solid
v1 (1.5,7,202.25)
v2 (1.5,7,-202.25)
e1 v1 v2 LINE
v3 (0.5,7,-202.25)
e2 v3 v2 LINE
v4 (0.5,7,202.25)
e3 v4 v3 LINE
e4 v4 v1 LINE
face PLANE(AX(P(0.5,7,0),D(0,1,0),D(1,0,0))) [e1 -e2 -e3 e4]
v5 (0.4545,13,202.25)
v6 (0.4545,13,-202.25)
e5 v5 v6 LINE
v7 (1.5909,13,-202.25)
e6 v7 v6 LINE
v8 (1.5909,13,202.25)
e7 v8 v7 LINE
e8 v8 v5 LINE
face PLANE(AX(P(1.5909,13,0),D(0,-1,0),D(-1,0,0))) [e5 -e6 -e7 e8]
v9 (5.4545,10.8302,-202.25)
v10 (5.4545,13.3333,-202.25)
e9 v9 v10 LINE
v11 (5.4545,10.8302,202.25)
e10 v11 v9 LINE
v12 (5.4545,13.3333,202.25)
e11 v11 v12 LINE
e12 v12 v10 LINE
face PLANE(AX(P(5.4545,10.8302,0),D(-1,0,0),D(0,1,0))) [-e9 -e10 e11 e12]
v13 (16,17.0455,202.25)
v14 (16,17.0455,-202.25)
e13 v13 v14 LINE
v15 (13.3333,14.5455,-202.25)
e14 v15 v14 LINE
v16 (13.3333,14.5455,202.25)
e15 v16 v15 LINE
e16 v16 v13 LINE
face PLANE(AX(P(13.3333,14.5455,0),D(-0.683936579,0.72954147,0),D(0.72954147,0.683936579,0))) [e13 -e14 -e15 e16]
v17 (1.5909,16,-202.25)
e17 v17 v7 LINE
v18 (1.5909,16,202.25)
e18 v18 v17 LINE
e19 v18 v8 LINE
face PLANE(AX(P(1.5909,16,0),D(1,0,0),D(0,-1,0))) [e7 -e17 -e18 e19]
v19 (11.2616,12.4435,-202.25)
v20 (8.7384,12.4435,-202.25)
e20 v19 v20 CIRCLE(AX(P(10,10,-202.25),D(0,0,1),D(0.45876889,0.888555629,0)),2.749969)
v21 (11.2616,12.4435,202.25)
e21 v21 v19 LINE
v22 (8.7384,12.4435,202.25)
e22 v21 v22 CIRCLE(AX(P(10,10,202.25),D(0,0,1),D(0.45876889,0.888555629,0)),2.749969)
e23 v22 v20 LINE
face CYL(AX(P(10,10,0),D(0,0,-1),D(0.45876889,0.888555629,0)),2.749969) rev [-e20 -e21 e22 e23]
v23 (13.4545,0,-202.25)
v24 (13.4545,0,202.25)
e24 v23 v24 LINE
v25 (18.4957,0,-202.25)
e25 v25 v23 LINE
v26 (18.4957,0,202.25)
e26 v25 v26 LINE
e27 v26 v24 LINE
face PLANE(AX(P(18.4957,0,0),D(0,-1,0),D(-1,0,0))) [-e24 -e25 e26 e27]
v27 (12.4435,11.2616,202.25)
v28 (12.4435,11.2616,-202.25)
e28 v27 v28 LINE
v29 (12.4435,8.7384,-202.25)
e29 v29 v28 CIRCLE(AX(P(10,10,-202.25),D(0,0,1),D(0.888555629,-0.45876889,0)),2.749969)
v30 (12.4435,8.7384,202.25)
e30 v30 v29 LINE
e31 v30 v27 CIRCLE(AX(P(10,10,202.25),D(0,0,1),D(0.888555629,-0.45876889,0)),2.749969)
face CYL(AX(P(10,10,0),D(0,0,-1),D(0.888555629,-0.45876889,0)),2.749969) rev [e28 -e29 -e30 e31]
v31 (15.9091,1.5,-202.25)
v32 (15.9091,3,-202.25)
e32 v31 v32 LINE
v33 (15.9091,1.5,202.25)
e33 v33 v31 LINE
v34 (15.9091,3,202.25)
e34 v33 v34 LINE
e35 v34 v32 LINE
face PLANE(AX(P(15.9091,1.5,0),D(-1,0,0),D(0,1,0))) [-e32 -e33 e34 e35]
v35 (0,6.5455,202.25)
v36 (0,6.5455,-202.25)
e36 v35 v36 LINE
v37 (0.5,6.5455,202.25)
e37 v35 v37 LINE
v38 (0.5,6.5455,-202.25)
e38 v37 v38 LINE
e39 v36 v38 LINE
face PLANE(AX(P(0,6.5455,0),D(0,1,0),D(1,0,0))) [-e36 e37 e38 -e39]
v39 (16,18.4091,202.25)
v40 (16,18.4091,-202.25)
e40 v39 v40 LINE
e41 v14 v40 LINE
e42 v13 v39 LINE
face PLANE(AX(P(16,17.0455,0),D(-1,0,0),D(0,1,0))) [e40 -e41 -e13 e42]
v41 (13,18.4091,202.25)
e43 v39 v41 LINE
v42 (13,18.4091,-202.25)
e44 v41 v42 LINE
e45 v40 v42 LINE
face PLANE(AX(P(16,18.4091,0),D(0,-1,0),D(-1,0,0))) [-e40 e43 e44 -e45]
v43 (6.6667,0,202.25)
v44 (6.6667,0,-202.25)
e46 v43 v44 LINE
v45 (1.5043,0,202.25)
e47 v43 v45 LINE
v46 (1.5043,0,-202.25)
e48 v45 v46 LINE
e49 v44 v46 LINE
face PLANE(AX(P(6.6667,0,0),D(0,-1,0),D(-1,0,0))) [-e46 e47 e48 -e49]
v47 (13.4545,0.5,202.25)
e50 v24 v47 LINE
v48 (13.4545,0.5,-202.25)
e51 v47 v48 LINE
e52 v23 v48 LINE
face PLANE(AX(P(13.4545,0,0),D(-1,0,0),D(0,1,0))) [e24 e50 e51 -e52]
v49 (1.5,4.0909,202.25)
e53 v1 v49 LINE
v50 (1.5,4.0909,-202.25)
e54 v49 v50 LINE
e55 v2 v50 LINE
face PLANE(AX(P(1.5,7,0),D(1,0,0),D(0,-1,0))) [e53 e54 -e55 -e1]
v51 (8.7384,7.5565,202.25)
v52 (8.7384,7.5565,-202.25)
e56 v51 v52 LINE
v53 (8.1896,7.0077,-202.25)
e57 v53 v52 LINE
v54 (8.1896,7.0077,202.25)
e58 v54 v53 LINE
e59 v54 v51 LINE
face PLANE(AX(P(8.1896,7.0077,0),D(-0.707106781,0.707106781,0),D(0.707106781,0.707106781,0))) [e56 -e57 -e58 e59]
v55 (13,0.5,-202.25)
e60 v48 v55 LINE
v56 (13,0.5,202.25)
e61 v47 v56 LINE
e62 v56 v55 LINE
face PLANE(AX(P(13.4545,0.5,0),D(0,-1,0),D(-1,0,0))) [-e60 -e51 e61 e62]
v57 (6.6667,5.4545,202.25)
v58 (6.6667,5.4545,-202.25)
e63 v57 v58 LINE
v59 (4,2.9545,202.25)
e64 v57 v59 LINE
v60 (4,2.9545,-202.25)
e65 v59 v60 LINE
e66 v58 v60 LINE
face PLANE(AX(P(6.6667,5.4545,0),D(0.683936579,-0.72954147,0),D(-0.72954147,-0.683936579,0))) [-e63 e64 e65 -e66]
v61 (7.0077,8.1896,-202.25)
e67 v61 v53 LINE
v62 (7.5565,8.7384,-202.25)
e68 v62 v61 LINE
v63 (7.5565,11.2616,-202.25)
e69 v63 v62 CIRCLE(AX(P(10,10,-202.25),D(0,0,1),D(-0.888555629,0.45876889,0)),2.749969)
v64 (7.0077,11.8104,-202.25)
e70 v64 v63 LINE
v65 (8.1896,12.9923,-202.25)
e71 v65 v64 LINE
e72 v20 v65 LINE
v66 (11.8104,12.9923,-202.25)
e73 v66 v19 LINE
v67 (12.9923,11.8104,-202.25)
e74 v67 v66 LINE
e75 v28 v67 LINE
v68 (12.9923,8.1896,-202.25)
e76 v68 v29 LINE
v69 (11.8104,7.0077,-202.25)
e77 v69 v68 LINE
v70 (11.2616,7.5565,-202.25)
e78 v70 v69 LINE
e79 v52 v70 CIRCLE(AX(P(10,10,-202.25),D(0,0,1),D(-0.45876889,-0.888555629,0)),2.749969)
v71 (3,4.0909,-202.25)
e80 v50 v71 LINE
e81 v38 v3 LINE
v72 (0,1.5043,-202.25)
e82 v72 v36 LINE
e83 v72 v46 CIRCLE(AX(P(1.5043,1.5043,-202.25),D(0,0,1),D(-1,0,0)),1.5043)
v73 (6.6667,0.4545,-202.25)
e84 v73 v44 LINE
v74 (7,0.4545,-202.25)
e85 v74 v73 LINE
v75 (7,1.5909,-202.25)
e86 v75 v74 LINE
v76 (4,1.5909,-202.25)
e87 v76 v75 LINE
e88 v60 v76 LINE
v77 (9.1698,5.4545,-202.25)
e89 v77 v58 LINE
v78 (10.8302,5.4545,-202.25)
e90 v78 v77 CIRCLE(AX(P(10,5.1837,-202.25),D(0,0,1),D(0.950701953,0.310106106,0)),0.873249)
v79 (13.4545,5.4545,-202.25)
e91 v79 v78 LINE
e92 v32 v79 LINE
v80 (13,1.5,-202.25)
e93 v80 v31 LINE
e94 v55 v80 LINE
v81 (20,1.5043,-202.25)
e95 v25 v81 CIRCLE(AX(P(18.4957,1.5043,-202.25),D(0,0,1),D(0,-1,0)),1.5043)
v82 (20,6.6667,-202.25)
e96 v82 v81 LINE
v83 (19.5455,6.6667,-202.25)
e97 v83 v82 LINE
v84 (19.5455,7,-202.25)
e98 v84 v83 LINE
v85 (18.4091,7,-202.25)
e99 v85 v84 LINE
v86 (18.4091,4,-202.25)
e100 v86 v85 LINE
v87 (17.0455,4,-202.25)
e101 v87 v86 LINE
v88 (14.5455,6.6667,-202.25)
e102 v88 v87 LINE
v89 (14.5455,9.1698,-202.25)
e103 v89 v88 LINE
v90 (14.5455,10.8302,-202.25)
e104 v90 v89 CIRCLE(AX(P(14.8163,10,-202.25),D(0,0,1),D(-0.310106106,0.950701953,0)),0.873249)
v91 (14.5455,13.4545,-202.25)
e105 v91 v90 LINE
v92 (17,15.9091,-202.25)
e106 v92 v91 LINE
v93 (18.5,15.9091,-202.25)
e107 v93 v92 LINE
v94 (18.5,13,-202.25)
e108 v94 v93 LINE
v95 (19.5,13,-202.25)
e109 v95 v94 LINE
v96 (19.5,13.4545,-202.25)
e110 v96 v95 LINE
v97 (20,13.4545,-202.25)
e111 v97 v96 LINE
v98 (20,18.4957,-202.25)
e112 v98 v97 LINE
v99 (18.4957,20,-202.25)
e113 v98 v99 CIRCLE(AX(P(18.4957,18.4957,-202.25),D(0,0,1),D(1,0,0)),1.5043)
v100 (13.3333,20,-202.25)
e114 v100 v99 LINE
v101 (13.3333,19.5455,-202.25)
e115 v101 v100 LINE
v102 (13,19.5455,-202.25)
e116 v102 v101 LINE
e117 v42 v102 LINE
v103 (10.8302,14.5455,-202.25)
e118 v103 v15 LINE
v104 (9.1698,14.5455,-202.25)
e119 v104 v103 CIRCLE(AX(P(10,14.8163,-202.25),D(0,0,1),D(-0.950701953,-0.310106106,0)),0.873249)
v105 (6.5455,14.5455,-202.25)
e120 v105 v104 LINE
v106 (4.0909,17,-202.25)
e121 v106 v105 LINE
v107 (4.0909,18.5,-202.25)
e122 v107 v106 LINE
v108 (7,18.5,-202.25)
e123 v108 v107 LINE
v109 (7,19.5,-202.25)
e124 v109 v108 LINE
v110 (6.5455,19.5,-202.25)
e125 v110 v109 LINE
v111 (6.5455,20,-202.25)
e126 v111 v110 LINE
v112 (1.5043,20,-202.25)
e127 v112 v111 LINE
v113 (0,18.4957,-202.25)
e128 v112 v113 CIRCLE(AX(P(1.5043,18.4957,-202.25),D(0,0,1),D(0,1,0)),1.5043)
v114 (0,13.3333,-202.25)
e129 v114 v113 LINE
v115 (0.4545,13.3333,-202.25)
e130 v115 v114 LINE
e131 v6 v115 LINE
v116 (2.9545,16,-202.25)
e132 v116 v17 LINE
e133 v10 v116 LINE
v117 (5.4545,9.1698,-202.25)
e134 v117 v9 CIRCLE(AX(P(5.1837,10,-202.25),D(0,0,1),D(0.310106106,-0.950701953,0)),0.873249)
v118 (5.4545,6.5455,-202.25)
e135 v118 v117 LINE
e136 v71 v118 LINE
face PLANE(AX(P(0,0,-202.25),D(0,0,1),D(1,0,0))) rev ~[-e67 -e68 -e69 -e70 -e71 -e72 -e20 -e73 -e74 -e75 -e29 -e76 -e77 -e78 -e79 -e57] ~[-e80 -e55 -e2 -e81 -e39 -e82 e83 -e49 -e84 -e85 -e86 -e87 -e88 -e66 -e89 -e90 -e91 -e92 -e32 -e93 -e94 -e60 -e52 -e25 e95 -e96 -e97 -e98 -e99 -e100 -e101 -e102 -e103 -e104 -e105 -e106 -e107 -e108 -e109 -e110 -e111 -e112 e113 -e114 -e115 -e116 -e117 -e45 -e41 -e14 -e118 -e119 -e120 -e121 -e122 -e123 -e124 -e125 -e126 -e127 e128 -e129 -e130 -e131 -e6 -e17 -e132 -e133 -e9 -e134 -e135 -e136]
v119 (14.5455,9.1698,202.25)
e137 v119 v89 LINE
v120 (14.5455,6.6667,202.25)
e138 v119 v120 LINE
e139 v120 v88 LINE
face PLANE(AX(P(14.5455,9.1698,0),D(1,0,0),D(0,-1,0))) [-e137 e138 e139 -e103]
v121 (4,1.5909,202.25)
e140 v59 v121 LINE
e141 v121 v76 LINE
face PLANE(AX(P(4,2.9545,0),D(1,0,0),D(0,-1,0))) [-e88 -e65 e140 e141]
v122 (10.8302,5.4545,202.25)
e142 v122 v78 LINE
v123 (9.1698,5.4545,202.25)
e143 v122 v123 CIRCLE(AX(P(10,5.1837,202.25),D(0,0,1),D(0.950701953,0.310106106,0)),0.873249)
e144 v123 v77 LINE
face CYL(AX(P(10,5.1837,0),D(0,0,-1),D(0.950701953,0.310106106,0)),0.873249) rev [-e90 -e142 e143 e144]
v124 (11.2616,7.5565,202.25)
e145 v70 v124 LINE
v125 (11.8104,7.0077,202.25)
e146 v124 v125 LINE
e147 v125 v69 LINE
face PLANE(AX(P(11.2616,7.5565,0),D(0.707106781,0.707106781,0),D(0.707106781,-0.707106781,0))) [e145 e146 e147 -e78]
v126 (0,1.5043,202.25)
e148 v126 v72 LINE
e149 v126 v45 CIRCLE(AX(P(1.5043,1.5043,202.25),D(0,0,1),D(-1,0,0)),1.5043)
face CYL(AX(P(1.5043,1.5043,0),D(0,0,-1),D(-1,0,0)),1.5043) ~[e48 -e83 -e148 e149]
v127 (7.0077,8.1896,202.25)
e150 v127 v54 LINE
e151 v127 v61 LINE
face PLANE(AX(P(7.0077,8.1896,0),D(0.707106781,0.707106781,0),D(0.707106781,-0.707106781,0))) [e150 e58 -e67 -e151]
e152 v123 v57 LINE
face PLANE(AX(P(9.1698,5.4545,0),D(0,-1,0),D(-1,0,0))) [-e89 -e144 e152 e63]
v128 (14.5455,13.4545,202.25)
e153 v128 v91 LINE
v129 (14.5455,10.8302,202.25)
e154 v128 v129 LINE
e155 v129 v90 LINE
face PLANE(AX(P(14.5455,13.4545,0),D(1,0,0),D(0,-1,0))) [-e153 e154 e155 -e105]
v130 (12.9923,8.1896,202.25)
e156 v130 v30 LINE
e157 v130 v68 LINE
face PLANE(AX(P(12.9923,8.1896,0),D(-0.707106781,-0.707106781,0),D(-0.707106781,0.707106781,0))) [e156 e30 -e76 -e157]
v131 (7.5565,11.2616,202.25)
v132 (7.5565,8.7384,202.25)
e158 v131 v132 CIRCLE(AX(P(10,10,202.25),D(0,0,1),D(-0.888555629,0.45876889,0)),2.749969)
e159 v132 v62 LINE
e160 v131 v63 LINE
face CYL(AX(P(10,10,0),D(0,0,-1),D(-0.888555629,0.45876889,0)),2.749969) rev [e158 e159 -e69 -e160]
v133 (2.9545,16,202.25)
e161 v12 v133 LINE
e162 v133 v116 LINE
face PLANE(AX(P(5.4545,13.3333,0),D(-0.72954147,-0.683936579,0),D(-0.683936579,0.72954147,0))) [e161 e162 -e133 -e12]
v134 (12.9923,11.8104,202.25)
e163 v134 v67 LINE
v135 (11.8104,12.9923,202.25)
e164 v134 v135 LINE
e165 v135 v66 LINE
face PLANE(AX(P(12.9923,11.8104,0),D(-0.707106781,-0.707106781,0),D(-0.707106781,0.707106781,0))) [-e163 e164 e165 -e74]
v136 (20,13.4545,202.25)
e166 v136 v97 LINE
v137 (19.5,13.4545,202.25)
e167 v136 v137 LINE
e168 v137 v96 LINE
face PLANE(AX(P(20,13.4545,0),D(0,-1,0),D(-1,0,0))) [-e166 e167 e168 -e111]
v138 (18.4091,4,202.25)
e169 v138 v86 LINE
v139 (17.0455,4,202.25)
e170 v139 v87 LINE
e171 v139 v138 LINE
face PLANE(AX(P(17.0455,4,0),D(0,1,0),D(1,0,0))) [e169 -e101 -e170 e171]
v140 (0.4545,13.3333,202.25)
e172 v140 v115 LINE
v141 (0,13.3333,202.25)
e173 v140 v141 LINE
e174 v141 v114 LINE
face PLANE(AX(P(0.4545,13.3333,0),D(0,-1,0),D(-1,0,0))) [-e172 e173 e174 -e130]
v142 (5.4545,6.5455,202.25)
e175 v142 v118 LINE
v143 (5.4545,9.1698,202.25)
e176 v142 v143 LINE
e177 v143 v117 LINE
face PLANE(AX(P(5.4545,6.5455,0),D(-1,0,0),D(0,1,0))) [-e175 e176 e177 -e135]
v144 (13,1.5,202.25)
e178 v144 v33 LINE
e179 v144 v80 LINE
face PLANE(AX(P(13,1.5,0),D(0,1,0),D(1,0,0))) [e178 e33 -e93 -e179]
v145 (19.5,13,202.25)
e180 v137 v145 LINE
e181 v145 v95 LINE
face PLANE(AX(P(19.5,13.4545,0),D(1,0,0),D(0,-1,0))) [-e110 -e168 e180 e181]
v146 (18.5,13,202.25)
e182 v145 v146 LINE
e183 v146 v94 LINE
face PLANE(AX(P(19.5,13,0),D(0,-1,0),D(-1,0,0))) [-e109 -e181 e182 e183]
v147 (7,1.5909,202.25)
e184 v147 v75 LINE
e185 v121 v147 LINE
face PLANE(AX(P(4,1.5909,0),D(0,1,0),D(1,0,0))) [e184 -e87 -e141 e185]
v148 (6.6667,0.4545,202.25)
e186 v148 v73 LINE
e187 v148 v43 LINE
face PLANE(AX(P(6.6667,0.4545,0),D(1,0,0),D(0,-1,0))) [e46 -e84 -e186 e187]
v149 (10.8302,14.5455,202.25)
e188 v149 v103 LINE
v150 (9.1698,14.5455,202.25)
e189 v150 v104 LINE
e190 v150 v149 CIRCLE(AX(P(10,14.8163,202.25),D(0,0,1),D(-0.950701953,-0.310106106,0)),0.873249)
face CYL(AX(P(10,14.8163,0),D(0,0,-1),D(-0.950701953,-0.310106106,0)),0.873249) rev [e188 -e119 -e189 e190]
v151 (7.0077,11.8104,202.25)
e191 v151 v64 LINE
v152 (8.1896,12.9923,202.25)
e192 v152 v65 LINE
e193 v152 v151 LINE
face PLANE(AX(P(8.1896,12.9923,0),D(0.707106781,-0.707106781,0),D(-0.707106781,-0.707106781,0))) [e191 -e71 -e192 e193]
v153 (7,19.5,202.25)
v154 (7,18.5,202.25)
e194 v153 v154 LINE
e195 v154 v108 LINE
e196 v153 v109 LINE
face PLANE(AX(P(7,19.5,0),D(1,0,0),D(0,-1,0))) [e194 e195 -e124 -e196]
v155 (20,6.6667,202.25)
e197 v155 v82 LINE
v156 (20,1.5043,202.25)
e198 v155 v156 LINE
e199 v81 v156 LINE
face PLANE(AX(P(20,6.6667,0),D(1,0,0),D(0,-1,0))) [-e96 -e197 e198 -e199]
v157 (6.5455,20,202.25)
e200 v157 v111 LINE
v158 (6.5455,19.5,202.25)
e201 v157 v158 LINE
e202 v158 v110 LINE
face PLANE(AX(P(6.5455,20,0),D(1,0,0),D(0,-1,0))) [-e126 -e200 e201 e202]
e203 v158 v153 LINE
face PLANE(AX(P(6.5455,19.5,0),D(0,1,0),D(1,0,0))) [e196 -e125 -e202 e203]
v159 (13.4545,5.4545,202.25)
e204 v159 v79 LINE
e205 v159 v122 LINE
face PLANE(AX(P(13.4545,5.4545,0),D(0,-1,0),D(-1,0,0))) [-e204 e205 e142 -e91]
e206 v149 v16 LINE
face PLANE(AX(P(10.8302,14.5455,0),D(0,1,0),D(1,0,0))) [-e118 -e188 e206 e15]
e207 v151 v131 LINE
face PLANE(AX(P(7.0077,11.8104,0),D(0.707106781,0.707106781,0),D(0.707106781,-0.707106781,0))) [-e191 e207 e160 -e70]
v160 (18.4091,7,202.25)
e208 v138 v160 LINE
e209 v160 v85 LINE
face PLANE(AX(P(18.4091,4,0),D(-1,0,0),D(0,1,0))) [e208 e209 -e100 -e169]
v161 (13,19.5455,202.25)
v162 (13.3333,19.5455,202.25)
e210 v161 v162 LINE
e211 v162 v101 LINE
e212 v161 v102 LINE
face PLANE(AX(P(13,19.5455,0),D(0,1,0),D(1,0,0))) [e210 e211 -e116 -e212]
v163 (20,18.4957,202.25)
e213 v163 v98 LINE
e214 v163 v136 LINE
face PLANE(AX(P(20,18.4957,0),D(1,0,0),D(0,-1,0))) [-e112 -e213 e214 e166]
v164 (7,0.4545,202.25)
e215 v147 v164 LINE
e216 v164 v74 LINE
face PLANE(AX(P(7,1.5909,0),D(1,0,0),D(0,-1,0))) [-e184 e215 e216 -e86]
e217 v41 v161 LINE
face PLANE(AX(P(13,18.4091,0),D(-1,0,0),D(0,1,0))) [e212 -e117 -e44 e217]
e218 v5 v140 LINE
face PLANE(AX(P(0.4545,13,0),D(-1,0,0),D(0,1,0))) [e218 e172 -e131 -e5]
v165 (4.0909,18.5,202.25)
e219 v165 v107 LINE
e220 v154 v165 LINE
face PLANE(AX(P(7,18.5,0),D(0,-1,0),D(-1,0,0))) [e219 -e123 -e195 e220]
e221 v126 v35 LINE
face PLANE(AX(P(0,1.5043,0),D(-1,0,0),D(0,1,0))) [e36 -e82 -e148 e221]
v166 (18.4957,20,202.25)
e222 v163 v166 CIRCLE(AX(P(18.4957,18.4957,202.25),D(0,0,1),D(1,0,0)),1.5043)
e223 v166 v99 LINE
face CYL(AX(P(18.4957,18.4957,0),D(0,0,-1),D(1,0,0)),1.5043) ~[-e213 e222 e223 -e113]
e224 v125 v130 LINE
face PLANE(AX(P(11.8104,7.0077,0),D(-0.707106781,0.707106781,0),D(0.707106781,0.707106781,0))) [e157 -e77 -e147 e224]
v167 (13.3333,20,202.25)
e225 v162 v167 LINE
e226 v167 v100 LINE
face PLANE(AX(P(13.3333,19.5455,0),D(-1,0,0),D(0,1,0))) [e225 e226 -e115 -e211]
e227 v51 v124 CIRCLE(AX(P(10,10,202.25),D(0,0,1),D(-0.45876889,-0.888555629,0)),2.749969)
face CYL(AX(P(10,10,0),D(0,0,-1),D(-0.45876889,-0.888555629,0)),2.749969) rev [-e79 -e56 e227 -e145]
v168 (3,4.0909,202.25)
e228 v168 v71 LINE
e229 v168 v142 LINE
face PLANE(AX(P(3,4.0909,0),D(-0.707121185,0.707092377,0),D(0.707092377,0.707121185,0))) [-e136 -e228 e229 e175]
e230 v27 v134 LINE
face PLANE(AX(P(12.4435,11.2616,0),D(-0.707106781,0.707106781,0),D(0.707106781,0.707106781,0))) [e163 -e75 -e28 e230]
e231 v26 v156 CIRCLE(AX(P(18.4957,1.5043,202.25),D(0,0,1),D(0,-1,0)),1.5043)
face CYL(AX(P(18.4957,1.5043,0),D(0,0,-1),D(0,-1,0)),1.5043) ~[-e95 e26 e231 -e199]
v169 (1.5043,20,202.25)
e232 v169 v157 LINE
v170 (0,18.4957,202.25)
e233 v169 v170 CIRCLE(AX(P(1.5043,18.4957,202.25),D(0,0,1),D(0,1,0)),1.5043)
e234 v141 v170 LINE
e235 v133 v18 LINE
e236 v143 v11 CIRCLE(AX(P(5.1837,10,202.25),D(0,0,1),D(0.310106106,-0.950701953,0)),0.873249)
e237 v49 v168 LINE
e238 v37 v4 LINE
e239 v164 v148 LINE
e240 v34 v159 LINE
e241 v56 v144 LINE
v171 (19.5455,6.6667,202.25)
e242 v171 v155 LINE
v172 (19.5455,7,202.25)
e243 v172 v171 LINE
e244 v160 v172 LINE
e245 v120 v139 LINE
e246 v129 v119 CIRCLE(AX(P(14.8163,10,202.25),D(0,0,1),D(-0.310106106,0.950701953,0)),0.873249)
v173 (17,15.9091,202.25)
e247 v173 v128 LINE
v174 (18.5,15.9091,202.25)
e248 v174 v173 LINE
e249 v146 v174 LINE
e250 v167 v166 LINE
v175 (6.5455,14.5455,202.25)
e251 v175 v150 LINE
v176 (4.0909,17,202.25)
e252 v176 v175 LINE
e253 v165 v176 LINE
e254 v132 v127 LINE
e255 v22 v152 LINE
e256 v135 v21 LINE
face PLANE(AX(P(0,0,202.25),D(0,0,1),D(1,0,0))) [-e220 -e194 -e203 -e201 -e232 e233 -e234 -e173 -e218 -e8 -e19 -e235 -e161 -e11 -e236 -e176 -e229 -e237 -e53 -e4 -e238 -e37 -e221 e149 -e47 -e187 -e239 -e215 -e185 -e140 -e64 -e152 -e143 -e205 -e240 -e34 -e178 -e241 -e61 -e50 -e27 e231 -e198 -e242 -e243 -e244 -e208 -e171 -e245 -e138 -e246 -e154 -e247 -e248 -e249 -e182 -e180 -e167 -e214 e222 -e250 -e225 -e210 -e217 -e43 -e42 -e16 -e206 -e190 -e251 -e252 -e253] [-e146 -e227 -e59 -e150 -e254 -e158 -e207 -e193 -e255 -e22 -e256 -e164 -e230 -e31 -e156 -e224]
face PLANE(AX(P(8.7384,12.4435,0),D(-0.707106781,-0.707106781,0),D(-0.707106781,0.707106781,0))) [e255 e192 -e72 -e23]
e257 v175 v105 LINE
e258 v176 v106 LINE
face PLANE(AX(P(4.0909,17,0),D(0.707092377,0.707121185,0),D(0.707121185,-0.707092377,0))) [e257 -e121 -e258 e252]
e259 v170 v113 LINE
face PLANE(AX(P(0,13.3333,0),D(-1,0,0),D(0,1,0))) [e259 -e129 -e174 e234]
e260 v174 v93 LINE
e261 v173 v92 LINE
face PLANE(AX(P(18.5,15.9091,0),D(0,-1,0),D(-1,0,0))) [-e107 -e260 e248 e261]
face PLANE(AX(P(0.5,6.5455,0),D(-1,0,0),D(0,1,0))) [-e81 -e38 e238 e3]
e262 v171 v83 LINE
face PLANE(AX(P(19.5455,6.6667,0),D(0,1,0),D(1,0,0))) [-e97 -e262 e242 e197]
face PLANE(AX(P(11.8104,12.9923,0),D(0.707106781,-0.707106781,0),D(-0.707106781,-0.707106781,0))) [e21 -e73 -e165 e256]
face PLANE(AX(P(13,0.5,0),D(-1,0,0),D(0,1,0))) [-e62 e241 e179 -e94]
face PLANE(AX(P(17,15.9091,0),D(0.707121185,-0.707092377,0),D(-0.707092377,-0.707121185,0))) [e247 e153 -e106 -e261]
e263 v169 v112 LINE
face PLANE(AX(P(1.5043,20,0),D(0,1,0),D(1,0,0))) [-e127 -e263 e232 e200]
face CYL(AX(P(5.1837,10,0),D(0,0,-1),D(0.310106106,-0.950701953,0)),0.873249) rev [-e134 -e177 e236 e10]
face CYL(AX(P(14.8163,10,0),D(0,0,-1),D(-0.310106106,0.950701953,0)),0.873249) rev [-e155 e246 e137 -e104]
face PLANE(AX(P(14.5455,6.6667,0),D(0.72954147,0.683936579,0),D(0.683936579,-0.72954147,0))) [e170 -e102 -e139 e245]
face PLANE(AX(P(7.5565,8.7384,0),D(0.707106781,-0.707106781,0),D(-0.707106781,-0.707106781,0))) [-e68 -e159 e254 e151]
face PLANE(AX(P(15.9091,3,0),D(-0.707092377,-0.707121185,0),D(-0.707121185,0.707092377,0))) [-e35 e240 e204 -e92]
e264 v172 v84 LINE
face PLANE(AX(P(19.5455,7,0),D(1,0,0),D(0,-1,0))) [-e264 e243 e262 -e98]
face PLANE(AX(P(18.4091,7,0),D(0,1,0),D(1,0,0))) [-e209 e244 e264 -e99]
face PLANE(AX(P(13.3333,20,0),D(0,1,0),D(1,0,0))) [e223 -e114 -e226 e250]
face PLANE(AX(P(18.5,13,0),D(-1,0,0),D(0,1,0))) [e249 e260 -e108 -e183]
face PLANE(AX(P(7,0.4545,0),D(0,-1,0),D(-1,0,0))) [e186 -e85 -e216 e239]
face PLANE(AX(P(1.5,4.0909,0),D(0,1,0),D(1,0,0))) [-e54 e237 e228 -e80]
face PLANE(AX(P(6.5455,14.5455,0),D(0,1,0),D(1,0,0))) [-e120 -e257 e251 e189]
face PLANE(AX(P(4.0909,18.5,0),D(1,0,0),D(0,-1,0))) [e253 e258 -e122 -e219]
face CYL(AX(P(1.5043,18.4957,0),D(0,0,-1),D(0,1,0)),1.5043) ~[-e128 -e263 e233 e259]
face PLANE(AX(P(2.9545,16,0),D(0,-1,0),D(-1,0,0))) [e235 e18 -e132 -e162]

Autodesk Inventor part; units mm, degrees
ref_plane "YZ Plane" through (0, 0, 0) normal (1, 0, 0) x (0, 1, 0)
ref_plane "XZ Plane" through (0, 0, 0) normal (0, 1, 0) x (-1, 0, 0)
ref_plane "XY Plane" through (0, 0, 0) normal (0, 0, 1) x (1, 0, 0)
sketch "Sketch1" plane through (0, 0, 0) normal (0, 0, 1) x (1, 0, 0)
  line L0 (11.2616, 7.5565) -> (11.8104, 7.0077)
  line L1 (11.8104, 7.0077) -> (12.9923, 8.1896)
  line L2 (12.9923, 8.1896) -> (12.4435, 8.7384)
  arc A0 (12.4435, 8.7384) -> (12.4435, 11.2616) centre (10, 10) ccw
  line L3 (12.4435, 11.2616) -> (12.9923, 11.8104)
  line L4 (12.9923, 11.8104) -> (11.8104, 12.9923)
  line L5 (11.8104, 12.9923) -> (11.2616, 12.4435)
  arc A1 (11.2616, 12.4435) -> (8.7384, 12.4435) centre (10, 10) ccw
  line L6 (8.7384, 12.4435) -> (8.1896, 12.9923)
  line L7 (8.1896, 12.9923) -> (7.0077, 11.8104)
  line L8 (7.0077, 11.8104) -> (7.5565, 11.2616)
  arc A2 (7.5565, 11.2616) -> (7.5565, 8.7384) centre (10, 10) ccw
  line L9 (7.5565, 8.7384) -> (7.0077, 8.1896)
  line L10 (7.0077, 8.1896) -> (8.1896, 7.0077)
  line L11 (8.1896, 7.0077) -> (8.7384, 7.5565)
  arc A3 (8.7384, 7.5565) -> (11.2616, 7.5565) centre (10, 10) ccw
  line L12 (13.4545, 0) -> (13.4545, 0.5)
  line L13 (13.4545, 0.5) -> (13, 0.5)
  line L14 (13, 0.5) -> (13, 1.5)
  line L15 (13, 1.5) -> (15.9091, 1.5)
  line L16 (15.9091, 1.5) -> (15.9091, 3)
  line L17 (15.9091, 3) -> (13.4545, 5.4545)
  line L18 (13.4545, 5.4545) -> (10.8302, 5.4545)
  arc A4 (10.8302, 5.4545) -> (9.1698, 5.4545) centre (10, 5.1837) ccw
  line L19 (9.1698, 5.4545) -> (6.6667, 5.4545)
  line L20 (6.6667, 5.4545) -> (4, 2.9545)
  line L21 (4, 2.9545) -> (4, 1.5909)
  line L22 (4, 1.5909) -> (7, 1.5909)
  line L23 (7, 1.5909) -> (7, 0.4545)
  line L24 (7, 0.4545) -> (6.6667, 0.4545)
  line L25 (6.6667, 0.4545) -> (6.6667, 0)
  line L26 (6.6667, 0) -> (1.5043, 0)
  arc A5 (0, 1.5043) -> (1.5043, 0) centre (1.5043, 1.5043) ccw
  line L27 (0, 1.5043) -> (0, 6.5455)
  line L28 (0, 6.5455) -> (0.5, 6.5455)
  line L29 (0.5, 6.5455) -> (0.5, 7)
  line L30 (0.5, 7) -> (1.5, 7)
  line L31 (1.5, 7) -> (1.5, 4.0909)
  line L32 (1.5, 4.0909) -> (3, 4.0909)
  line L33 (3, 4.0909) -> (5.4545, 6.5455)
  line L34 (5.4545, 6.5455) -> (5.4545, 9.1698)
  arc A6 (5.4545, 9.1698) -> (5.4545, 10.8302) centre (5.1837, 10) ccw
  line L35 (5.4545, 10.8302) -> (5.4545, 13.3333)
  line L36 (5.4545, 13.3333) -> (2.9545, 16)
  line L37 (2.9545, 16) -> (1.5909, 16)
  line L38 (1.5909, 16) -> (1.5909, 13)
  line L39 (1.5909, 13) -> (0.4545, 13)
  line L40 (0.4545, 13) -> (0.4545, 13.3333)
  line L41 (0.4545, 13.3333) -> (0, 13.3333)
  line L42 (0, 13.3333) -> (0, 18.4957)
  arc A7 (1.5043, 20) -> (0, 18.4957) centre (1.5043, 18.4957) ccw
  line L43 (1.5043, 20) -> (6.5455, 20)
  line L44 (6.5455, 20) -> (6.5455, 19.5)
  line L45 (6.5455, 19.5) -> (7, 19.5)
  line L46 (7, 19.5) -> (7, 18.5)
  line L47 (7, 18.5) -> (4.0909, 18.5)
  line L48 (4.0909, 18.5) -> (4.0909, 17)
  line L49 (4.0909, 17) -> (6.5455, 14.5455)
  line L50 (6.5455, 14.5455) -> (9.1698, 14.5455)
  arc A8 (9.1698, 14.5455) -> (10.8302, 14.5455) centre (10, 14.8163) ccw
  line L51 (10.8302, 14.5455) -> (13.3333, 14.5455)
  line L52 (13.3333, 14.5455) -> (16, 17.0455)
  line L53 (16, 17.0455) -> (16, 18.4091)
  line L54 (16, 18.4091) -> (13, 18.4091)
  line L55 (13, 18.4091) -> (13, 19.5455)
  line L56 (13, 19.5455) -> (13.3333, 19.5455)
  line L57 (13.3333, 19.5455) -> (13.3333, 20)
  line L58 (13.3333, 20) -> (18.4957, 20)
  arc A9 (20, 18.4957) -> (18.4957, 20) centre (18.4957, 18.4957) ccw
  line L59 (20, 18.4957) -> (20, 13.4545)
  line L60 (20, 13.4545) -> (19.5, 13.4545)
  line L61 (19.5, 13.4545) -> (19.5, 13)
  line L62 (19.5, 13) -> (18.5, 13)
  line L63 (18.5, 13) -> (18.5, 15.9091)
  line L64 (18.5, 15.9091) -> (17, 15.9091)
  line L65 (17, 15.9091) -> (14.5455, 13.4545)
  line L66 (14.5455, 13.4545) -> (14.5455, 10.8302)
  arc A10 (14.5455, 10.8302) -> (14.5455, 9.1698) centre (14.8163, 10) ccw
  line L67 (14.5455, 9.1698) -> (14.5455, 6.6667)
  line L68 (14.5455, 6.6667) -> (17.0455, 4)
  line L69 (17.0455, 4) -> (18.4091, 4)
  line L70 (18.4091, 4) -> (18.4091, 7)
  line L71 (18.4091, 7) -> (19.5455, 7)
  line L72 (19.5455, 7) -> (19.5455, 6.6667)
  line L73 (19.5455, 6.6667) -> (20, 6.6667)
  line L74 (20, 6.6667) -> (20, 1.5043)
  arc A11 (18.4957, 0) -> (20, 1.5043) centre (18.4957, 1.5043) ccw
  line L75 (18.4957, 0) -> (13.4545, 0)
  point P0 (0, 0)
  point P1 (0.4406, 0.4406)
  point P2 (10, 0)
  point P3 (10, 0)
  point P4 (10, 0)
  point P5 (19.5594, 0.4406)
  point P6 (0, 10)
  point P7 (0, 10)
  point P8 (0, 10)
  point P9 (10, 10)
  point P10 (20, 10)
  point P11 (20, 10)
  point P12 (20, 10)
  point P13 (0.4406, 19.5594)
  point P14 (10, 20)
  point P15 (10, 20)
  point P16 (10, 20)
  point P17 (19.5594, 19.5594)
extrude "Extrusion1" add sketch "Sketch1" along normal mid plane 404.5
properties part number "Back"
